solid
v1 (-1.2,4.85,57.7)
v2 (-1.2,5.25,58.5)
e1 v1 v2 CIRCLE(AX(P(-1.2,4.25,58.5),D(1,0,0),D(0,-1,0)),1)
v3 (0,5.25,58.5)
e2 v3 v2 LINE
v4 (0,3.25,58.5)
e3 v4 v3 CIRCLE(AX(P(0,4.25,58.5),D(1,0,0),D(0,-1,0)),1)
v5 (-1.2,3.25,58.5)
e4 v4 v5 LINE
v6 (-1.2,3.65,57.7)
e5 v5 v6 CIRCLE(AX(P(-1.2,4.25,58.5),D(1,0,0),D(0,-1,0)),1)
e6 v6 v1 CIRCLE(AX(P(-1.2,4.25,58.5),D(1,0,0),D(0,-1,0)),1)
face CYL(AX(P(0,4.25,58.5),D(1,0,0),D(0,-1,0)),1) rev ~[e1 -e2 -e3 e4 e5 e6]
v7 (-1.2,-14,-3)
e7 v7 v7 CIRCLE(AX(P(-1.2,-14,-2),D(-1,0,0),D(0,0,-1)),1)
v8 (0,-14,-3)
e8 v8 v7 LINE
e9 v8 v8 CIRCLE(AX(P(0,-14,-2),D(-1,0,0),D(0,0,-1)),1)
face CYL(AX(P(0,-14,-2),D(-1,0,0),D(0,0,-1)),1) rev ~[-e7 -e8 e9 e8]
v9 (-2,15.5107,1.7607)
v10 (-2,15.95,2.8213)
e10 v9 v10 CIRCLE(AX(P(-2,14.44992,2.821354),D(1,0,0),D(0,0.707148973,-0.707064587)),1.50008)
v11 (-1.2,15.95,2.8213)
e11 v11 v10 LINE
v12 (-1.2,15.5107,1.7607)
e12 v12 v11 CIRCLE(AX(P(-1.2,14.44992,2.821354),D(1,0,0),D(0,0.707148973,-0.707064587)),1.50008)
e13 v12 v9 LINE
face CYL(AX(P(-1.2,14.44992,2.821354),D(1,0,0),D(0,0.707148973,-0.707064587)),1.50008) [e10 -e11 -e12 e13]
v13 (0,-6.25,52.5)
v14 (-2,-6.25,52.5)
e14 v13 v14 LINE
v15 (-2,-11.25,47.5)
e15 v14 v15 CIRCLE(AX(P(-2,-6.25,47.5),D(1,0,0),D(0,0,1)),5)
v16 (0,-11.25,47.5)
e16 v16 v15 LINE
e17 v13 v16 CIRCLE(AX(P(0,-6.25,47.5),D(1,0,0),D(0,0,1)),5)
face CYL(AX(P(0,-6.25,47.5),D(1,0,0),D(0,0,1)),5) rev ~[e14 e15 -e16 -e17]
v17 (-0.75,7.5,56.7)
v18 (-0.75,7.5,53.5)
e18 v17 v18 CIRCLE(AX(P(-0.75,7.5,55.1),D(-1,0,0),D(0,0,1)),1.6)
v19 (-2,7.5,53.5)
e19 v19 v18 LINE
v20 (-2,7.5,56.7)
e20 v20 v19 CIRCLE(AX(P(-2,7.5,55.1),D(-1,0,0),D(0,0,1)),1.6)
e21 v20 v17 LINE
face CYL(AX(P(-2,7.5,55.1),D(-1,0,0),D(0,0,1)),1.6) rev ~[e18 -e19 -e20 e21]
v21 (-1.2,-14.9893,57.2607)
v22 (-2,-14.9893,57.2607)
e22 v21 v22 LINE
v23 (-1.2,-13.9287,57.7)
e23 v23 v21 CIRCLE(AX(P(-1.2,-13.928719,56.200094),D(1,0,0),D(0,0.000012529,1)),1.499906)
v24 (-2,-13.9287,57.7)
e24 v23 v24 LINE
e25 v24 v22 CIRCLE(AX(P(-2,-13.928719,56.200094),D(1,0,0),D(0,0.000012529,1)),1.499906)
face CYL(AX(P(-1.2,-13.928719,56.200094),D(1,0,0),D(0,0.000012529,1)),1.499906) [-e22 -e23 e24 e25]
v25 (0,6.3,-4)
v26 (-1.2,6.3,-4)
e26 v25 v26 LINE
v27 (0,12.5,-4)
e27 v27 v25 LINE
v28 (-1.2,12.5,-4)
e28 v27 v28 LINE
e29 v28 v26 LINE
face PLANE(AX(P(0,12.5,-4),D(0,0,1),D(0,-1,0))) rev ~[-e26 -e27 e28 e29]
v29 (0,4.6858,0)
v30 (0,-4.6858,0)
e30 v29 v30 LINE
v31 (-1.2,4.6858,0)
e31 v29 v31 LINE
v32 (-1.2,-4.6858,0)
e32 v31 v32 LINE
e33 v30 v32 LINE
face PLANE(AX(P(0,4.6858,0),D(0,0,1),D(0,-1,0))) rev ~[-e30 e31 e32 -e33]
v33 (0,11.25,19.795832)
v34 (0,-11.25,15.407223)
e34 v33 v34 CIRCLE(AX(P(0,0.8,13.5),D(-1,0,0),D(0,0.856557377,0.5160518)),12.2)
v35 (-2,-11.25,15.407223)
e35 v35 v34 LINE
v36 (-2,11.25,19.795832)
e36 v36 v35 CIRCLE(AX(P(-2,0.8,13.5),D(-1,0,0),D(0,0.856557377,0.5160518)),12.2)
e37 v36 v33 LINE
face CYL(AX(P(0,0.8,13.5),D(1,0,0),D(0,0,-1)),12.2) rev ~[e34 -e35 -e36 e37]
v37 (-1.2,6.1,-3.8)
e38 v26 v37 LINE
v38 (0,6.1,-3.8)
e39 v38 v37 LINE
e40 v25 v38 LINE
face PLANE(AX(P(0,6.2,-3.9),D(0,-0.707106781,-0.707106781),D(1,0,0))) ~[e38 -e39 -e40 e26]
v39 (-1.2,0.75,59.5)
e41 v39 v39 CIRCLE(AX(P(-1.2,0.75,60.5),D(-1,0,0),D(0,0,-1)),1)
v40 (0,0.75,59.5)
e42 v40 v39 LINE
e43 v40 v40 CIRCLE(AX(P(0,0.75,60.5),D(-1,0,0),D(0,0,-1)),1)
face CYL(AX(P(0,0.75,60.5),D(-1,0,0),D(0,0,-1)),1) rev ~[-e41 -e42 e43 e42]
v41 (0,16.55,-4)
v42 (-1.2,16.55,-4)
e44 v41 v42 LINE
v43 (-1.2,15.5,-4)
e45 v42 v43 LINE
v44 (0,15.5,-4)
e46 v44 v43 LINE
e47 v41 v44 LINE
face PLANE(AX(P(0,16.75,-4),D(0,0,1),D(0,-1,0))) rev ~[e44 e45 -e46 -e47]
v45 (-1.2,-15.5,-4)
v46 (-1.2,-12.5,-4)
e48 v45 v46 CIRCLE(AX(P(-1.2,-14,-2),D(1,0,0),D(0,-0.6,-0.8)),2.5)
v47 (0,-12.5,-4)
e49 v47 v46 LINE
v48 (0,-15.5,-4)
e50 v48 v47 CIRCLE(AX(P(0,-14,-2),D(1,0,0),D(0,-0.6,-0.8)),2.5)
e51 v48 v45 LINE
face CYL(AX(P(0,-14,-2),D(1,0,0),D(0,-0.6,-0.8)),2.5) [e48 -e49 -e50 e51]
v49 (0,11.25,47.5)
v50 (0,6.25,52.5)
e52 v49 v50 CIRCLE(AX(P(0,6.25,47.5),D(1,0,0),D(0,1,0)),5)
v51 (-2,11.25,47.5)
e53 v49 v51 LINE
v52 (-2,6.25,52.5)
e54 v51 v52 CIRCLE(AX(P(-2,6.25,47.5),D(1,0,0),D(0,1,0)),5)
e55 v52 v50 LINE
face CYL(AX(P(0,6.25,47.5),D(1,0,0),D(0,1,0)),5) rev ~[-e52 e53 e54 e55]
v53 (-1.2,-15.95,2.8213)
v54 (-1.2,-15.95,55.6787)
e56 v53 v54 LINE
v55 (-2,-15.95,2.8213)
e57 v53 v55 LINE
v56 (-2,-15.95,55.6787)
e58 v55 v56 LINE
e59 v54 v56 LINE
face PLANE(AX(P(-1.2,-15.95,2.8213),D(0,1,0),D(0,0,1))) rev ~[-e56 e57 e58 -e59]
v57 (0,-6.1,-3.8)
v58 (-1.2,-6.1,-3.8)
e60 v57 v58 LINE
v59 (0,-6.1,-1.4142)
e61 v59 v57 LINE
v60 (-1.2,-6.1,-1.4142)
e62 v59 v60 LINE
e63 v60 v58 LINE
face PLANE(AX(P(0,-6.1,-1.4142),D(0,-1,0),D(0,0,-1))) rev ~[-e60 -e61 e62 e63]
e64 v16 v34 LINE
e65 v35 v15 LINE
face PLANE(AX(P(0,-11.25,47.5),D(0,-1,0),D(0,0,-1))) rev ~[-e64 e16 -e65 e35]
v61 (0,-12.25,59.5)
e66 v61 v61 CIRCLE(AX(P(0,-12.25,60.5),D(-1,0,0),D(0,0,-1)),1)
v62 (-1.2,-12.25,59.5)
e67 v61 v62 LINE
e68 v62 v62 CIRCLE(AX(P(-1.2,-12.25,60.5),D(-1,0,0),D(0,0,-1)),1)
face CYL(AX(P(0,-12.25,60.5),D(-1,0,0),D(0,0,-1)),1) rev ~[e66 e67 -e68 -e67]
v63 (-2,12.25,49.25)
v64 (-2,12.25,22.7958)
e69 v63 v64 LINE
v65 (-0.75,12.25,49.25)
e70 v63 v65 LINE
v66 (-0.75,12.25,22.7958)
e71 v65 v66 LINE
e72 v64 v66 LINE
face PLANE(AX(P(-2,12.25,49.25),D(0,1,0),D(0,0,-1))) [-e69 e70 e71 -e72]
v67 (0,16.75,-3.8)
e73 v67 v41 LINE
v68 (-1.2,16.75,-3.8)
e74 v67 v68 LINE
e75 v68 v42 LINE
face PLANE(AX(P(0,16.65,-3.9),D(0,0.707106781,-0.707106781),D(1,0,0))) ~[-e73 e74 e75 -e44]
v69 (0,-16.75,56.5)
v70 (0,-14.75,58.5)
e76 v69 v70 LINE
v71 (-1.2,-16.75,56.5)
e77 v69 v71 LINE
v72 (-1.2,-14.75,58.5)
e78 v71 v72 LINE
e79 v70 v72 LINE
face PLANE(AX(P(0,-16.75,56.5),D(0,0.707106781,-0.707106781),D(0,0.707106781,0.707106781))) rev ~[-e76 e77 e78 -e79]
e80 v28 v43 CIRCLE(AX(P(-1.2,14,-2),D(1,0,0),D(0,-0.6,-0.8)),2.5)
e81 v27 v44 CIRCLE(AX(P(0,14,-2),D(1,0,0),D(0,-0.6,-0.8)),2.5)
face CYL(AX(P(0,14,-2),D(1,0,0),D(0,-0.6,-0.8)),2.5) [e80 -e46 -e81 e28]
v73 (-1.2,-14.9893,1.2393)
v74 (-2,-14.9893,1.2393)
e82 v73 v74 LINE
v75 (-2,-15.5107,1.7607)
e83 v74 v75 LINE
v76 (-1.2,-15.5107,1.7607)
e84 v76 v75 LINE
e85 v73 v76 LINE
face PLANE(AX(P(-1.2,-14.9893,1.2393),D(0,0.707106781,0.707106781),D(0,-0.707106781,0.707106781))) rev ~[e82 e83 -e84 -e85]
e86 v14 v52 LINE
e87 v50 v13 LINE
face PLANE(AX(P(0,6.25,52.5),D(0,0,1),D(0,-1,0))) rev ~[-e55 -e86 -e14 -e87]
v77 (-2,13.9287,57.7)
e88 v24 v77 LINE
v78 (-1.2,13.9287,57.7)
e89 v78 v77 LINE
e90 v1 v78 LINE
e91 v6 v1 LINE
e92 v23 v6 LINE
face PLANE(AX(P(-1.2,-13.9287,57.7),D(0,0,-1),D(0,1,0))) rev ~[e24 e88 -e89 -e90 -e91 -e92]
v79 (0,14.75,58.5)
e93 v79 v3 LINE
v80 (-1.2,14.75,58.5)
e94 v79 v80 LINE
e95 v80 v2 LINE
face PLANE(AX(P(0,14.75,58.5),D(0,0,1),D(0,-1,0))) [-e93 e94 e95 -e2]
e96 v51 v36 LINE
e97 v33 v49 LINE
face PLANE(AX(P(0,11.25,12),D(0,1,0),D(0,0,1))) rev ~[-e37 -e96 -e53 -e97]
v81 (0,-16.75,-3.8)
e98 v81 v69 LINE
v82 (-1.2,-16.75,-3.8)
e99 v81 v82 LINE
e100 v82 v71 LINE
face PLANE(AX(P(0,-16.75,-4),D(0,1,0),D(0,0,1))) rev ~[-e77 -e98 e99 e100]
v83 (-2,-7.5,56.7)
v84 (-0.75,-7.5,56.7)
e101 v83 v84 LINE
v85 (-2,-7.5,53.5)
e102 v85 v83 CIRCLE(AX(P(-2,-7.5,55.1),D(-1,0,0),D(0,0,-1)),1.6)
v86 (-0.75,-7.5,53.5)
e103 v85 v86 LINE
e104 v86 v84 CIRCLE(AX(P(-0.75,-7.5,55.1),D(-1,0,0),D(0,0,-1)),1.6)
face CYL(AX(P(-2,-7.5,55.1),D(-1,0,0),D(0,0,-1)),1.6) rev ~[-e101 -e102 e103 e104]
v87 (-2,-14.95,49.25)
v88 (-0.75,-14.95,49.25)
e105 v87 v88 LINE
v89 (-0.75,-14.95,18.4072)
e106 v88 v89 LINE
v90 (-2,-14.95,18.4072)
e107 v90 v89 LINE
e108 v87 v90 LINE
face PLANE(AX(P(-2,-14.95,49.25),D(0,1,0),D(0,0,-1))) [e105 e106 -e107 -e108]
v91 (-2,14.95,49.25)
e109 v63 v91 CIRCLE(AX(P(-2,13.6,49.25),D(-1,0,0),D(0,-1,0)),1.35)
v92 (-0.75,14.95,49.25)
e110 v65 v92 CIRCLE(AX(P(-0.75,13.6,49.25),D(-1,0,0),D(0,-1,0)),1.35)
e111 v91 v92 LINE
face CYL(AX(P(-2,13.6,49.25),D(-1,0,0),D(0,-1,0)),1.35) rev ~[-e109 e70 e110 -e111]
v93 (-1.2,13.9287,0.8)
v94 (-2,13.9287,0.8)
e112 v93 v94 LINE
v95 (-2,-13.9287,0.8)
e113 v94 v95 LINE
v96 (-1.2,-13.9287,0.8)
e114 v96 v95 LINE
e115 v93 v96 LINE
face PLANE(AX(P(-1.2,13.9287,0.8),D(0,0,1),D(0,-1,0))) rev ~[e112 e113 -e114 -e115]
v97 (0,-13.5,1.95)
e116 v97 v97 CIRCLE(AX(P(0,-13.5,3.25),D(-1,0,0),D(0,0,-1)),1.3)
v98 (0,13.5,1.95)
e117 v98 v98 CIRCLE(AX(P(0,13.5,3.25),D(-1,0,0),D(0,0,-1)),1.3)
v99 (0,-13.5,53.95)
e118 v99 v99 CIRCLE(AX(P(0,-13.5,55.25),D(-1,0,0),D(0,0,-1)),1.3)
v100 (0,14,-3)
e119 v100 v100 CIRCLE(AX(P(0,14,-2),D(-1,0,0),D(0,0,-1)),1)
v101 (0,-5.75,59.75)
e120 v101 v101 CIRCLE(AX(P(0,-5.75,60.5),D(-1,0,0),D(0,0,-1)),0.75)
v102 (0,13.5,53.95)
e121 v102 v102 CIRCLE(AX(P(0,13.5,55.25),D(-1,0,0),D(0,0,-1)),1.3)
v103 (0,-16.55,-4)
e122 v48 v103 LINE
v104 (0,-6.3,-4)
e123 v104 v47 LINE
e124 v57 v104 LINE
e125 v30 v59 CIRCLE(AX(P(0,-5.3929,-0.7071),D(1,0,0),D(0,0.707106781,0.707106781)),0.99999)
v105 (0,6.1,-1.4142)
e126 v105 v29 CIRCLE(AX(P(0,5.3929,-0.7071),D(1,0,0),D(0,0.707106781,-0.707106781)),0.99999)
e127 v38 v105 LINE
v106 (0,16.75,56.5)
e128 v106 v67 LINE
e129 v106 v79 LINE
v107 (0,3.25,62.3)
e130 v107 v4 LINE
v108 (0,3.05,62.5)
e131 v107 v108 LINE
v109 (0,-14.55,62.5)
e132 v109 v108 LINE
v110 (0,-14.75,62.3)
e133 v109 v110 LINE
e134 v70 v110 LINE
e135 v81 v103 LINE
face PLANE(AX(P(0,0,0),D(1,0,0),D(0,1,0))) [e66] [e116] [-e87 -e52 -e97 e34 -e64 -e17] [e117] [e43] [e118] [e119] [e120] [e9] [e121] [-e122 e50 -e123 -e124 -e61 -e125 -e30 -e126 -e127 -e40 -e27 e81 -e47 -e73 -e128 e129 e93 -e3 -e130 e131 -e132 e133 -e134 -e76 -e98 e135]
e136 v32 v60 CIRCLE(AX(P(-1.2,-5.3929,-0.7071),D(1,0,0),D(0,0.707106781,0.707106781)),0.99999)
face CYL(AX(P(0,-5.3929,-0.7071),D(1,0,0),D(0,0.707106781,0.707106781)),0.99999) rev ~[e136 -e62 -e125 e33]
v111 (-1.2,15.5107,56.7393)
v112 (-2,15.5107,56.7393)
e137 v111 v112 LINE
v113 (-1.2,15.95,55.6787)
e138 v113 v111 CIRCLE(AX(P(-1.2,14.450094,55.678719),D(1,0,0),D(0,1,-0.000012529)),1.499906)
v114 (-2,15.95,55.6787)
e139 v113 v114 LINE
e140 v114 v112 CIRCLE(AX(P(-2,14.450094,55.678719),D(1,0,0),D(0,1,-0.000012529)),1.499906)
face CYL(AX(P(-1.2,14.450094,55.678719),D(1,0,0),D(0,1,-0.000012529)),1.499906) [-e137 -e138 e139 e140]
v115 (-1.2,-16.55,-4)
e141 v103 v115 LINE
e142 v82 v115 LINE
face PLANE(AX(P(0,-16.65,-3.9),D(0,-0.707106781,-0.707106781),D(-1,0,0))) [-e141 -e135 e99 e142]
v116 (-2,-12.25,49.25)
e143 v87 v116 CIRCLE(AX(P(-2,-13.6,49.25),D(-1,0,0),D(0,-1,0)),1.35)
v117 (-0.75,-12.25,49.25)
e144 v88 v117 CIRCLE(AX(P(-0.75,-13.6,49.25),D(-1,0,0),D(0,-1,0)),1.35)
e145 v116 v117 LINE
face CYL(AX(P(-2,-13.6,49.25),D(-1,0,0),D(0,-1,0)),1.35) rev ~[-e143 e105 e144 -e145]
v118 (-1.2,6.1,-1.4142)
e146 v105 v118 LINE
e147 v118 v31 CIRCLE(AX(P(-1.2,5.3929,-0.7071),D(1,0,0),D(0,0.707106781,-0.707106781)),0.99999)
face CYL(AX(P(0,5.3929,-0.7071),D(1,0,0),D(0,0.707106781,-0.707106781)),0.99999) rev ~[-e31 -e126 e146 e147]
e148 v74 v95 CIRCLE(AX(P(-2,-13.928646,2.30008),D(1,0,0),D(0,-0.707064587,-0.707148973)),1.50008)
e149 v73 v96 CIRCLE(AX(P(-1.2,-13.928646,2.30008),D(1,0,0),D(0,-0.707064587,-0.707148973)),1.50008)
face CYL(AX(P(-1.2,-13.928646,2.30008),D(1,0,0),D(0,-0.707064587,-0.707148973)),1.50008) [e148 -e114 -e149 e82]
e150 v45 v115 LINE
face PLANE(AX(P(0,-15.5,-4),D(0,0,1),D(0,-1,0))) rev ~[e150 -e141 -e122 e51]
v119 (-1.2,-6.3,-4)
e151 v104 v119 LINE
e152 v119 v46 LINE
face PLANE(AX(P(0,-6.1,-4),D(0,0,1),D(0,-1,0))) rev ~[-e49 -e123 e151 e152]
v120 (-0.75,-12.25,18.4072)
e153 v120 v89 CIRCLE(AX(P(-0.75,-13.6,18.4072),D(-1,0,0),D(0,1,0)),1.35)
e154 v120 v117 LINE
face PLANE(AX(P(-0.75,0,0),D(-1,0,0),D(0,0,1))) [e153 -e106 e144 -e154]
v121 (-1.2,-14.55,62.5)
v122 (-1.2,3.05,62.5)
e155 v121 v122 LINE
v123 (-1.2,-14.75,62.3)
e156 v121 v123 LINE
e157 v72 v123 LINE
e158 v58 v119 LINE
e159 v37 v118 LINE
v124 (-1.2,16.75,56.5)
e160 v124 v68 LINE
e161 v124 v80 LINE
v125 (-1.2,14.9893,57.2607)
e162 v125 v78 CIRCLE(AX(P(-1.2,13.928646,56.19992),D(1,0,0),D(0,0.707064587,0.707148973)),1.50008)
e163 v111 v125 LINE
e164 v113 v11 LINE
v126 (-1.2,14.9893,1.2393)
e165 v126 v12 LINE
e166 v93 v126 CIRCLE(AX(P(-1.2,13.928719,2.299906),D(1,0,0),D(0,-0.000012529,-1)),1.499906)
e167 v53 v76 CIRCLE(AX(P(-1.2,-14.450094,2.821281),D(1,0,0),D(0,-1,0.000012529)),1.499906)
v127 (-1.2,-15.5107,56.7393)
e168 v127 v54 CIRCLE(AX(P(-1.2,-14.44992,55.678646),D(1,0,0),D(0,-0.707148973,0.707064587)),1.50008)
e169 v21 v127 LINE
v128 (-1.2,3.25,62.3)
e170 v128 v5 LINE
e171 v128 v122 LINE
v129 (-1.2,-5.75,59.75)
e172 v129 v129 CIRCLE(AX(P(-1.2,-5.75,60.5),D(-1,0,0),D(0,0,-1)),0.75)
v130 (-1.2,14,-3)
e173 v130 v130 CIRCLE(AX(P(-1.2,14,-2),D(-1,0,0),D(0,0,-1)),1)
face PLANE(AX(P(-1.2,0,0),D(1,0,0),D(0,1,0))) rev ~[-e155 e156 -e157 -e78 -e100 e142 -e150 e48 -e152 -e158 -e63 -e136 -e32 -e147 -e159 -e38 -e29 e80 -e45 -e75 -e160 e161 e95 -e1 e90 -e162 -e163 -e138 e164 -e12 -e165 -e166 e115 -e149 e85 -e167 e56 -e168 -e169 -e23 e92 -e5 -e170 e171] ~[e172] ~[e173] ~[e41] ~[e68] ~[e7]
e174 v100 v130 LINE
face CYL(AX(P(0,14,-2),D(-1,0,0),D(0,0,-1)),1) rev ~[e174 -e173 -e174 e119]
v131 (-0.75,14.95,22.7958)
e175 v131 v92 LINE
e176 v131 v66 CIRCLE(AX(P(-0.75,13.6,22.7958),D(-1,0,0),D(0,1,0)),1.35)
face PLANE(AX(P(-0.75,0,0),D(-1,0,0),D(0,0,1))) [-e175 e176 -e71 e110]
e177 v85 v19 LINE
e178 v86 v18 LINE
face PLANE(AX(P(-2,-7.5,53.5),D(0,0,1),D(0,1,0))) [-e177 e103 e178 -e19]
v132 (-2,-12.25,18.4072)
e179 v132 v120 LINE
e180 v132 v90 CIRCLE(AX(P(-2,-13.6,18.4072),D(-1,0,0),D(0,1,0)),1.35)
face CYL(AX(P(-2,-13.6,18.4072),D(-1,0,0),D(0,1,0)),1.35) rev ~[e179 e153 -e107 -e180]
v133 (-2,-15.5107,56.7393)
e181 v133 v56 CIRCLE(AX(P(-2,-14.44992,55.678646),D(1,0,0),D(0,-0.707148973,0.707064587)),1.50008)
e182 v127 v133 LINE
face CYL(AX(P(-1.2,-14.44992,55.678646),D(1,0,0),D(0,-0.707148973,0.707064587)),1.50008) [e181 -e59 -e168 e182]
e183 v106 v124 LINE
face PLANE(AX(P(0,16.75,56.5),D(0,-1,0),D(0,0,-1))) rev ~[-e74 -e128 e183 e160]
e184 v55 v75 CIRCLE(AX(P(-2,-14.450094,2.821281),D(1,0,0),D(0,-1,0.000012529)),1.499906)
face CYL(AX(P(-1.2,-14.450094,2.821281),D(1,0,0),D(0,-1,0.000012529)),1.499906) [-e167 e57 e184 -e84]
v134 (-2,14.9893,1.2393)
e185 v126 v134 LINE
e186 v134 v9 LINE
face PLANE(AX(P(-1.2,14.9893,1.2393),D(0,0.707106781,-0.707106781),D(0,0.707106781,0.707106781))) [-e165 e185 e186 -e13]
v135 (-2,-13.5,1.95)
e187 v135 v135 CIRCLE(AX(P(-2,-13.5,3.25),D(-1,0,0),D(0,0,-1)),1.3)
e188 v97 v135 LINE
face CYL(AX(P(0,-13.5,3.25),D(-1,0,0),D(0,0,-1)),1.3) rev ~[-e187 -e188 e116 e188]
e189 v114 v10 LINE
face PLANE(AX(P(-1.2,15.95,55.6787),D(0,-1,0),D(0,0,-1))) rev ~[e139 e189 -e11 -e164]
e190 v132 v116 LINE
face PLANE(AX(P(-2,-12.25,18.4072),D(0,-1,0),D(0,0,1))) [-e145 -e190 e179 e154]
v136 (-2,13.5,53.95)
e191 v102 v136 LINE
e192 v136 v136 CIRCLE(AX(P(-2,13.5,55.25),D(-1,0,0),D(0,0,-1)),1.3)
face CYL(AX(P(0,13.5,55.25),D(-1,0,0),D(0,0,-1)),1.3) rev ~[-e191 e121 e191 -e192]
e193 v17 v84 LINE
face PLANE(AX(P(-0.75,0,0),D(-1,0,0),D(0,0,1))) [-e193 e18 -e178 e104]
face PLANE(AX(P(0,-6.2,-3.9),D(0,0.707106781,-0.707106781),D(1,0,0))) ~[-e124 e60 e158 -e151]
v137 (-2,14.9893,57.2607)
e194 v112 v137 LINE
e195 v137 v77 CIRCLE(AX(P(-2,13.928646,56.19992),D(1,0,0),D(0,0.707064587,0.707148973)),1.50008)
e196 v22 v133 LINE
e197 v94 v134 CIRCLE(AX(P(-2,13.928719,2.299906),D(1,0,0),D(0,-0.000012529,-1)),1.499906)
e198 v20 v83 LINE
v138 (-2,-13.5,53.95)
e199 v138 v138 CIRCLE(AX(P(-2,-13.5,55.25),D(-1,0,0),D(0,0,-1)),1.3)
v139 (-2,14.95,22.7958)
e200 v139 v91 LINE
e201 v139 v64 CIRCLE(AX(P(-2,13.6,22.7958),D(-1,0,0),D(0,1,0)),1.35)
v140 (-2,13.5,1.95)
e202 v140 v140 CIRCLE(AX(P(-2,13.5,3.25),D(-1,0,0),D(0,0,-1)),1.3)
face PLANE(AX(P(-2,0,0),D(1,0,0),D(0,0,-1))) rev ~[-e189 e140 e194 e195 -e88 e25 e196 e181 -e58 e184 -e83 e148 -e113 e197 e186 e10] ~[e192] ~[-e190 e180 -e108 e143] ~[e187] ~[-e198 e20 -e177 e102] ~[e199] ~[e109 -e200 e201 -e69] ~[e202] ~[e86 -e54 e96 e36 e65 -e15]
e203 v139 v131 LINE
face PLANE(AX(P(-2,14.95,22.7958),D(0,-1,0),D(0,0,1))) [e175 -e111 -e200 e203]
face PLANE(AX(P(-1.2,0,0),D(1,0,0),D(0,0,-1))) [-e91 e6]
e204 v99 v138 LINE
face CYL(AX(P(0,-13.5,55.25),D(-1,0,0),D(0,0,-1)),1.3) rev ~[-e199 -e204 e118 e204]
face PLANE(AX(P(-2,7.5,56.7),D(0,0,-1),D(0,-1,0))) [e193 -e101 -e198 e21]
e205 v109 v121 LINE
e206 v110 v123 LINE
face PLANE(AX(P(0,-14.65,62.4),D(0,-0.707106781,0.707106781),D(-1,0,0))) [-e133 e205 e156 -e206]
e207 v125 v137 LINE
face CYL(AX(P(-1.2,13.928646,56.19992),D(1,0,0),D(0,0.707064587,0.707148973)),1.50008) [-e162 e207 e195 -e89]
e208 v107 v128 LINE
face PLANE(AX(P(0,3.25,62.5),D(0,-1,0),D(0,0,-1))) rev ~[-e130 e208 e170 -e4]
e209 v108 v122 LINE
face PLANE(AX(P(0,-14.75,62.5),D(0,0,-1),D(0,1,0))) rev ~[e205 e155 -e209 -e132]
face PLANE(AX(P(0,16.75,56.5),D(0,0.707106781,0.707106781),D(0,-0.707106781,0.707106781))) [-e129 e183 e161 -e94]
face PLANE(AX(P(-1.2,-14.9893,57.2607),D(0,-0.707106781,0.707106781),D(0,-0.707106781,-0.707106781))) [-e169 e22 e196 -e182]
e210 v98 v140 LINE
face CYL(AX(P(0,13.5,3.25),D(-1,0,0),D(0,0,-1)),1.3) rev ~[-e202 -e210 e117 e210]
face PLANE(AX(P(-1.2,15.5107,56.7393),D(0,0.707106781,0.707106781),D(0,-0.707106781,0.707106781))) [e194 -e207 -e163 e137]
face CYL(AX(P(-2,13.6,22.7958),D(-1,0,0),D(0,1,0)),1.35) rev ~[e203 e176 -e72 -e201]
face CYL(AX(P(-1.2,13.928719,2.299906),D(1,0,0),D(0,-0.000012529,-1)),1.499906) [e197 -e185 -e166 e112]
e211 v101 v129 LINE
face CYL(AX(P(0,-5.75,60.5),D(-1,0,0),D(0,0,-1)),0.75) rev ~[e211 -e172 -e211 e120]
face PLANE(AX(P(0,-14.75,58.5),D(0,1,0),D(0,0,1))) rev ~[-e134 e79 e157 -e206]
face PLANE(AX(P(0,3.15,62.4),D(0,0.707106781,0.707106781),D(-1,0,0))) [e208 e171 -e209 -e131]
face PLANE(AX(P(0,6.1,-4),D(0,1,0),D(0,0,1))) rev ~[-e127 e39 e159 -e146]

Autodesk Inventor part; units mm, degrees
ref_plane "YZ Plane" through (0, 0, 0) normal (1, 0, 0) x (0, 1, 0)
ref_plane "XZ Plane" through (0, 0, 0) normal (0, 1, 0) x (-1, 0, 0)
ref_plane "XY Plane" through (0, 0, 0) normal (0, 0, 1) x (1, 0, 0)
sketch "スケッチ1" plane through (0, 0, 0) normal (1, 0, 0) x (0, 1, 0)
  line L0 (0, 0) -> (0, 58.5) construction
  line L1 (16.75, 56.5) -> (16.75, -4)
  line L2 (16.75, -4) -> (15.5, -4)
  line L3 (6.1, -4) -> (6.1, -1.4142)
  line L4 (5.714, 0) -> (4.6858, 0) construction
  line L5 (4.6858, 0) -> (-4.6858, 0)
  line L6 (-6.1, 0) -> (-6.1, -1.4142) construction
  line L7 (-6.1, -4) -> (-12.5, -4)
  line L8 (-16.75, -4) -> (-16.75, 56.5)
  arc A0 (-4.6858, 0) -> (-6.1, -1.4142) centre (-5.3929, -0.7071) ccw
  line L9 (14.75, 58.5) -> (5.25, 58.5)
  line L10 (16.75, 56.5) -> (14.75, 58.5)
  line L11 (-16.75, 56.5) -> (-14.75, 58.5)
  line L12 (13.5, 55.25) -> (-13.5, 55.25) construction
  line L13 (-13.5, 55.25) -> (-13.5, 3.25) construction
  line L14 (-13.5, 3.25) -> (13.5, 3.25) construction
  line L15 (13.5, 3.25) -> (13.5, 55.25) construction
  line L16 (0, 29.25) -> (21.0927, 29.25) construction
  line L17 (14, -2) -> (-14, -2) construction
  arc A1 (12.5, -4) -> (15.5, -4) centre (14, -2) ccw
  line L18 (15.5, -4) -> (12.5, -4) construction
  line L19 (12.5, -4) -> (6.1, -4)
  arc A2 (-15.5, -4) -> (-12.5, -4) centre (-14, -2) ccw
  line L20 (-12.5, -4) -> (-15.5, -4) construction
  line L21 (-15.5, -4) -> (-16.75, -4)
  line L22 (6.25, 52.5) -> (-6.25, 52.5)
  line L23 (-11.25, 47.5) -> (-11.25, 12)
  line L24 (-11.25, 12) -> (11.25, 12)
  line L25 (11.25, 12) -> (11.25, 47.5)
  arc A3 (11.25, 47.5) -> (6.25, 52.5) centre (6.25, 47.5) ccw
  arc A4 (-6.25, 52.5) -> (-11.25, 47.5) centre (-6.25, 47.5) ccw
  line L26 (6.1, -1.4142) -> (6.1, -0.7071) construction
  line L27 (-4.6858, 0) -> (-6.1, 0) construction
  line L28 (-6.1, -1.4142) -> (-6.1, -4)
  line L29 (6.1, -1.4142) -> (6.1, 0) construction
  line L30 (6.1, 0) -> (4.6858, 0) construction
  arc A5 (6.1, -1.4142) -> (4.6858, 0) centre (5.3929, -0.7071) ccw
  line L31 (-14.75, 58.5) -> (-14.75, 62.5)
  line L32 (-14.75, 62.5) -> (3.25, 62.5)
  line L33 (3.25, 62.5) -> (3.25, 58.5)
  arc A6 (3.25, 58.5) -> (5.25, 58.5) centre (4.25, 58.5) ccw
  line L34 (3.25, 58.5) -> (-14.75, 58.5) construction
  line L35 (5.25, 58.5) -> (3.25, 58.5) construction
  line L36 (0.75, 60.5) -> (-12.25, 60.5) construction
  point P0 (16.75, 58.5)
  point P1 (-6.0944, 0.0056)
  point P2 (-16.75, 58.5)
  point P3 (-5.75, 60.5)
  dimension "d3" = 12.2
  dimension "d5" = 33.5
  dimension "d6" = 4
  dimension "d7" = 58.5
  dimension "d8" = 2
  dimension "d9" = 2
  dimension "d10" = 2
  dimension "d11" = 2
  dimension "d12" = 27
  dimension "d13" = 52
  dimension "d14" = 2
  dimension "d15" = 28
  dimension "d16" = 2.5
  dimension "d33" = 5
  dimension "d34" = 5.5
  dimension "d35" = 6
  dimension "d36" = 12
  dimension "d37" = 1
  dimension "d60" = 1
  dimension "d61" = 18
  dimension "d62" = 4
  dimension "d63" = 2
  dimension "d64" = 2.5
  dimension "d65" = 2.5
extrude "押し出し1" add sketch "スケッチ1" against normal blind 1.2
sketch "スケッチ2" plane through (-1.2, 0, 0) normal (1, 0, 0) x (0, 0, -1)
  line L0 (-58.5, 14.75) -> (-58.5, -14.75) construction
  line L1 (-56.5, -16.75) -> (4, -16.75) construction
  line L2 (4, 16.75) -> (-56.5, 16.75) construction
  line L3 (0, -4.6858) -> (0, 4.6858) construction
  line L4 (-0.8, 13.9287) -> (-0.8, -13.9287)
  line L5 (-2.8213, -15.95) -> (-55.6787, -15.95)
  line L6 (-57.7, -13.9287) -> (-57.7, 13.9287)
  line L7 (-55.6787, 15.95) -> (-2.8213, 15.95)
  line L8 (-1.2393, -14.9893) -> (-1.7607, -15.5107)
  line L9 (-1.2393, 14.9893) -> (-1.7607, 15.5107)
  line L10 (-56.7393, 15.5107) -> (-57.2607, 14.9893)
  line L11 (-57.2607, -14.9893) -> (-56.7393, -15.5107)
  arc A0 (-1.2393, -14.9893) -> (-0.8, -13.9287) centre (-2.3, -13.9287) ccw
  arc A1 (-2.8213, -15.95) -> (-1.7607, -15.5107) centre (-2.8213, -14.45) ccw
  arc A2 (-56.7393, -15.5107) -> (-55.6787, -15.95) centre (-55.6787, -14.45) ccw
  arc A3 (-57.7, -13.9287) -> (-57.2607, -14.9893) centre (-56.2, -13.9287) ccw
  arc A4 (-55.6787, 15.95) -> (-56.7393, 15.5107) centre (-55.6787, 14.45) ccw
  arc A5 (-57.2607, 14.9893) -> (-57.7, 13.9287) centre (-56.2, 13.9287) ccw
  arc A6 (-1.7607, 15.5107) -> (-2.8213, 15.95) centre (-2.8213, 14.45) ccw
  arc A7 (-0.8, 13.9287) -> (-1.2393, 14.9893) centre (-2.3, 13.9287) ccw
  arc A8 (-52.5, -6.25) -> (-47.5, -11.25) centre (-47.5, -6.25) ccw projected
  line L12 (-12, -11.25) -> (-47.5, -11.25) projected
  line L13 (-12, 11.25) -> (-12, -11.25) projected
  line L14 (-47.5, 11.25) -> (-12, 11.25) projected
  arc A9 (-47.5, 11.25) -> (-52.5, 6.25) centre (-47.5, 6.25) ccw projected
  line L15 (-52.5, -6.25) -> (-52.5, 6.25) projected
  point P0 (0, 0)
  point P1 (-0.8, -14.55)
  point P2 (-2.2, -15.95)
  point P3 (-0.8, -15.95)
  point P4 (-0.8, 14.55)
  point P5 (-2.2, 15.95)
  point P6 (-0.8, 15.95)
  point P7 (-56.3, 15.95)
  point P8 (-57.7, 14.55)
  point P9 (-57.7, 15.95)
  point P10 (-57.7, -14.55)
  point P11 (-56.3, -15.95)
  point P12 (-57.7, -15.95)
  point P13 (52.5, -6.25)
  point P14 (47.5, -11.25)
  point P15 (47.5, 11.25)
  point P16 (52.5, 6.25)
  dimension "d38" = 1.4
  dimension "d39" = 1.4
  dimension "d40" = 1.4
  dimension "d41" = 1.4
  dimension "d42" = 1.4
  dimension "d43" = 1.4
  dimension "d44" = 1.4
  dimension "d45" = 1.4
  dimension "d46" = 1.5
  dimension "d48" = 0.8
  dimension "d50" = 0.8
  dimension "d53" = 0.8
  dimension "d54" = 0.8
extrude "押し出し2" add sketch "スケッチ2" against normal blind 0.8
hole "穴1" at (0, 13.5, 55.25) at (0, -13.5, 55.25) at (0, -13.5, 3.25) at (0, 13.5, 3.25) direction (-1, 0, 0) diameter 2.6 end through all clearance for "Countersunk Raised Head Screw ISO 2010/7047" size "M2.5" standard "ISO"
hole "穴2" at (0, 14, -2) at (0, -14, -2) at (0, -12.25, 60.5) at (0, 0.75, 60.5) direction (-1, 0, 0) diameter 2 end through all
sketch "スケッチ3" plane through (0, 0, 0) normal (1, 0, 0) x (0, 0, -1)
  circle A0 centre (-13.5, 0.8) radius 12.2
  line L0 (4, 16.75) -> (-56.5, 16.75) projected
  line L1 (0, -4.6858) -> (0, 4.6858) projected
  point P0 (0, 0)
  dimension "d55" = 24.4
  dimension "d56" = 15.95
  dimension "d57" = 13.5
extrude "押し出し3" cut sketch "スケッチ3" against normal blind 10
hole "穴3" at (0, -5.75, 60.5) direction (-1, 0, 0) diameter 1.5 end through all
sketch "スケッチ4" plane through (-2, 0, 0) normal (-1, 0, 0) x (0, 0, 1)
  line L0 (22.7958, 14.95) -> (49.25, 14.95)
  line L1 (49.25, 14.95) -> (49.25, 12.25) construction
  line L2 (49.25, 12.25) -> (22.7958, 12.25)
  line L3 (22.7958, 12.25) -> (22.7958, 14.95) construction
  line L4 (53.5, 7.5) -> (56.7, 7.5) construction
  line L5 (56.7, 7.5) -> (56.7, -7.5)
  line L6 (56.7, -7.5) -> (53.5, -7.5) construction
  line L7 (53.5, -7.5) -> (53.5, 7.5)
  line L8 (18.4072, -12.25) -> (49.25, -12.25)
  line L9 (49.25, -12.25) -> (49.25, -14.95) construction
  line L10 (49.25, -14.95) -> (18.4072, -14.95)
  line L11 (18.4072, -14.95) -> (18.4072, -12.25) construction
  arc A0 (22.7958, 14.95) -> (22.7958, 12.25) centre (22.7958, 13.6) ccw
  arc A1 (49.25, 12.25) -> (49.25, 14.95) centre (49.25, 13.6) ccw
  arc A2 (56.7, 7.5) -> (53.5, 7.5) centre (55.1, 7.5) ccw
  arc A3 (53.5, -7.5) -> (56.7, -7.5) centre (55.1, -7.5) ccw
  arc A4 (49.25, -14.95) -> (49.25, -12.25) centre (49.25, -13.6) ccw
  arc A5 (18.4072, -12.25) -> (18.4072, -14.95) centre (18.4072, -13.6) ccw
  line L12 (55.6787, 15.95) -> (2.8213, 15.95) construction
  line L13 (19.7958, 11.25) -> (47.5, 11.25) construction
  line L14 (52.5, 6.25) -> (52.5, -6.25) construction
  line L15 (57.7, -13.9287) -> (57.7, 13.9287) construction
  line L16 (47.5, -11.25) -> (15.4072, -11.25) construction
  line L17 (2.8213, -15.95) -> (55.6787, -15.95) construction
  circle A6 centre (55.25, -13.5) radius 1.3 construction
  circle A7 centre (55.25, 13.5) radius 1.3 construction
  point P0 (0, 0)
  dimension "d73" = 1
  dimension "d74" = 1
  dimension "d75" = 1.35
  dimension "d76" = 1
  dimension "d77" = 1
  dimension "d78" = 1.6
  dimension "d79" = 1
  dimension "d80" = 1
  dimension "d81" = 3
  dimension "d82" = 3
  dimension "d83" = 6
  dimension "d84" = 6
  dimension "d85" = 6
  dimension "d86" = 6
extrude "押し出し4" cut sketch "スケッチ4" against normal blind 1.25
chamfer "面取り1" distance 0.2 angle 45 6 edges at (-0.6, 16.75, -4) (-0.6, -16.75, -4) (-0.6, -6.1, -4) (-0.6, 6.1, -4) (-0.6, 3.25, 62.5) (-0.6, -14.75, 62.5)
equation "\"d9\" = d8"
equation "\"d11\" = d10"
equation "\"d40\" = d38"
equation "\"d41\" = d40"
equation "\"d42\" = d38"
equation "\"d43\" = d42"
equation "\"d44\" = d38"
equation "\"d45\" = d44"
properties part number "SERVO_BOTTOM_SPACER"
